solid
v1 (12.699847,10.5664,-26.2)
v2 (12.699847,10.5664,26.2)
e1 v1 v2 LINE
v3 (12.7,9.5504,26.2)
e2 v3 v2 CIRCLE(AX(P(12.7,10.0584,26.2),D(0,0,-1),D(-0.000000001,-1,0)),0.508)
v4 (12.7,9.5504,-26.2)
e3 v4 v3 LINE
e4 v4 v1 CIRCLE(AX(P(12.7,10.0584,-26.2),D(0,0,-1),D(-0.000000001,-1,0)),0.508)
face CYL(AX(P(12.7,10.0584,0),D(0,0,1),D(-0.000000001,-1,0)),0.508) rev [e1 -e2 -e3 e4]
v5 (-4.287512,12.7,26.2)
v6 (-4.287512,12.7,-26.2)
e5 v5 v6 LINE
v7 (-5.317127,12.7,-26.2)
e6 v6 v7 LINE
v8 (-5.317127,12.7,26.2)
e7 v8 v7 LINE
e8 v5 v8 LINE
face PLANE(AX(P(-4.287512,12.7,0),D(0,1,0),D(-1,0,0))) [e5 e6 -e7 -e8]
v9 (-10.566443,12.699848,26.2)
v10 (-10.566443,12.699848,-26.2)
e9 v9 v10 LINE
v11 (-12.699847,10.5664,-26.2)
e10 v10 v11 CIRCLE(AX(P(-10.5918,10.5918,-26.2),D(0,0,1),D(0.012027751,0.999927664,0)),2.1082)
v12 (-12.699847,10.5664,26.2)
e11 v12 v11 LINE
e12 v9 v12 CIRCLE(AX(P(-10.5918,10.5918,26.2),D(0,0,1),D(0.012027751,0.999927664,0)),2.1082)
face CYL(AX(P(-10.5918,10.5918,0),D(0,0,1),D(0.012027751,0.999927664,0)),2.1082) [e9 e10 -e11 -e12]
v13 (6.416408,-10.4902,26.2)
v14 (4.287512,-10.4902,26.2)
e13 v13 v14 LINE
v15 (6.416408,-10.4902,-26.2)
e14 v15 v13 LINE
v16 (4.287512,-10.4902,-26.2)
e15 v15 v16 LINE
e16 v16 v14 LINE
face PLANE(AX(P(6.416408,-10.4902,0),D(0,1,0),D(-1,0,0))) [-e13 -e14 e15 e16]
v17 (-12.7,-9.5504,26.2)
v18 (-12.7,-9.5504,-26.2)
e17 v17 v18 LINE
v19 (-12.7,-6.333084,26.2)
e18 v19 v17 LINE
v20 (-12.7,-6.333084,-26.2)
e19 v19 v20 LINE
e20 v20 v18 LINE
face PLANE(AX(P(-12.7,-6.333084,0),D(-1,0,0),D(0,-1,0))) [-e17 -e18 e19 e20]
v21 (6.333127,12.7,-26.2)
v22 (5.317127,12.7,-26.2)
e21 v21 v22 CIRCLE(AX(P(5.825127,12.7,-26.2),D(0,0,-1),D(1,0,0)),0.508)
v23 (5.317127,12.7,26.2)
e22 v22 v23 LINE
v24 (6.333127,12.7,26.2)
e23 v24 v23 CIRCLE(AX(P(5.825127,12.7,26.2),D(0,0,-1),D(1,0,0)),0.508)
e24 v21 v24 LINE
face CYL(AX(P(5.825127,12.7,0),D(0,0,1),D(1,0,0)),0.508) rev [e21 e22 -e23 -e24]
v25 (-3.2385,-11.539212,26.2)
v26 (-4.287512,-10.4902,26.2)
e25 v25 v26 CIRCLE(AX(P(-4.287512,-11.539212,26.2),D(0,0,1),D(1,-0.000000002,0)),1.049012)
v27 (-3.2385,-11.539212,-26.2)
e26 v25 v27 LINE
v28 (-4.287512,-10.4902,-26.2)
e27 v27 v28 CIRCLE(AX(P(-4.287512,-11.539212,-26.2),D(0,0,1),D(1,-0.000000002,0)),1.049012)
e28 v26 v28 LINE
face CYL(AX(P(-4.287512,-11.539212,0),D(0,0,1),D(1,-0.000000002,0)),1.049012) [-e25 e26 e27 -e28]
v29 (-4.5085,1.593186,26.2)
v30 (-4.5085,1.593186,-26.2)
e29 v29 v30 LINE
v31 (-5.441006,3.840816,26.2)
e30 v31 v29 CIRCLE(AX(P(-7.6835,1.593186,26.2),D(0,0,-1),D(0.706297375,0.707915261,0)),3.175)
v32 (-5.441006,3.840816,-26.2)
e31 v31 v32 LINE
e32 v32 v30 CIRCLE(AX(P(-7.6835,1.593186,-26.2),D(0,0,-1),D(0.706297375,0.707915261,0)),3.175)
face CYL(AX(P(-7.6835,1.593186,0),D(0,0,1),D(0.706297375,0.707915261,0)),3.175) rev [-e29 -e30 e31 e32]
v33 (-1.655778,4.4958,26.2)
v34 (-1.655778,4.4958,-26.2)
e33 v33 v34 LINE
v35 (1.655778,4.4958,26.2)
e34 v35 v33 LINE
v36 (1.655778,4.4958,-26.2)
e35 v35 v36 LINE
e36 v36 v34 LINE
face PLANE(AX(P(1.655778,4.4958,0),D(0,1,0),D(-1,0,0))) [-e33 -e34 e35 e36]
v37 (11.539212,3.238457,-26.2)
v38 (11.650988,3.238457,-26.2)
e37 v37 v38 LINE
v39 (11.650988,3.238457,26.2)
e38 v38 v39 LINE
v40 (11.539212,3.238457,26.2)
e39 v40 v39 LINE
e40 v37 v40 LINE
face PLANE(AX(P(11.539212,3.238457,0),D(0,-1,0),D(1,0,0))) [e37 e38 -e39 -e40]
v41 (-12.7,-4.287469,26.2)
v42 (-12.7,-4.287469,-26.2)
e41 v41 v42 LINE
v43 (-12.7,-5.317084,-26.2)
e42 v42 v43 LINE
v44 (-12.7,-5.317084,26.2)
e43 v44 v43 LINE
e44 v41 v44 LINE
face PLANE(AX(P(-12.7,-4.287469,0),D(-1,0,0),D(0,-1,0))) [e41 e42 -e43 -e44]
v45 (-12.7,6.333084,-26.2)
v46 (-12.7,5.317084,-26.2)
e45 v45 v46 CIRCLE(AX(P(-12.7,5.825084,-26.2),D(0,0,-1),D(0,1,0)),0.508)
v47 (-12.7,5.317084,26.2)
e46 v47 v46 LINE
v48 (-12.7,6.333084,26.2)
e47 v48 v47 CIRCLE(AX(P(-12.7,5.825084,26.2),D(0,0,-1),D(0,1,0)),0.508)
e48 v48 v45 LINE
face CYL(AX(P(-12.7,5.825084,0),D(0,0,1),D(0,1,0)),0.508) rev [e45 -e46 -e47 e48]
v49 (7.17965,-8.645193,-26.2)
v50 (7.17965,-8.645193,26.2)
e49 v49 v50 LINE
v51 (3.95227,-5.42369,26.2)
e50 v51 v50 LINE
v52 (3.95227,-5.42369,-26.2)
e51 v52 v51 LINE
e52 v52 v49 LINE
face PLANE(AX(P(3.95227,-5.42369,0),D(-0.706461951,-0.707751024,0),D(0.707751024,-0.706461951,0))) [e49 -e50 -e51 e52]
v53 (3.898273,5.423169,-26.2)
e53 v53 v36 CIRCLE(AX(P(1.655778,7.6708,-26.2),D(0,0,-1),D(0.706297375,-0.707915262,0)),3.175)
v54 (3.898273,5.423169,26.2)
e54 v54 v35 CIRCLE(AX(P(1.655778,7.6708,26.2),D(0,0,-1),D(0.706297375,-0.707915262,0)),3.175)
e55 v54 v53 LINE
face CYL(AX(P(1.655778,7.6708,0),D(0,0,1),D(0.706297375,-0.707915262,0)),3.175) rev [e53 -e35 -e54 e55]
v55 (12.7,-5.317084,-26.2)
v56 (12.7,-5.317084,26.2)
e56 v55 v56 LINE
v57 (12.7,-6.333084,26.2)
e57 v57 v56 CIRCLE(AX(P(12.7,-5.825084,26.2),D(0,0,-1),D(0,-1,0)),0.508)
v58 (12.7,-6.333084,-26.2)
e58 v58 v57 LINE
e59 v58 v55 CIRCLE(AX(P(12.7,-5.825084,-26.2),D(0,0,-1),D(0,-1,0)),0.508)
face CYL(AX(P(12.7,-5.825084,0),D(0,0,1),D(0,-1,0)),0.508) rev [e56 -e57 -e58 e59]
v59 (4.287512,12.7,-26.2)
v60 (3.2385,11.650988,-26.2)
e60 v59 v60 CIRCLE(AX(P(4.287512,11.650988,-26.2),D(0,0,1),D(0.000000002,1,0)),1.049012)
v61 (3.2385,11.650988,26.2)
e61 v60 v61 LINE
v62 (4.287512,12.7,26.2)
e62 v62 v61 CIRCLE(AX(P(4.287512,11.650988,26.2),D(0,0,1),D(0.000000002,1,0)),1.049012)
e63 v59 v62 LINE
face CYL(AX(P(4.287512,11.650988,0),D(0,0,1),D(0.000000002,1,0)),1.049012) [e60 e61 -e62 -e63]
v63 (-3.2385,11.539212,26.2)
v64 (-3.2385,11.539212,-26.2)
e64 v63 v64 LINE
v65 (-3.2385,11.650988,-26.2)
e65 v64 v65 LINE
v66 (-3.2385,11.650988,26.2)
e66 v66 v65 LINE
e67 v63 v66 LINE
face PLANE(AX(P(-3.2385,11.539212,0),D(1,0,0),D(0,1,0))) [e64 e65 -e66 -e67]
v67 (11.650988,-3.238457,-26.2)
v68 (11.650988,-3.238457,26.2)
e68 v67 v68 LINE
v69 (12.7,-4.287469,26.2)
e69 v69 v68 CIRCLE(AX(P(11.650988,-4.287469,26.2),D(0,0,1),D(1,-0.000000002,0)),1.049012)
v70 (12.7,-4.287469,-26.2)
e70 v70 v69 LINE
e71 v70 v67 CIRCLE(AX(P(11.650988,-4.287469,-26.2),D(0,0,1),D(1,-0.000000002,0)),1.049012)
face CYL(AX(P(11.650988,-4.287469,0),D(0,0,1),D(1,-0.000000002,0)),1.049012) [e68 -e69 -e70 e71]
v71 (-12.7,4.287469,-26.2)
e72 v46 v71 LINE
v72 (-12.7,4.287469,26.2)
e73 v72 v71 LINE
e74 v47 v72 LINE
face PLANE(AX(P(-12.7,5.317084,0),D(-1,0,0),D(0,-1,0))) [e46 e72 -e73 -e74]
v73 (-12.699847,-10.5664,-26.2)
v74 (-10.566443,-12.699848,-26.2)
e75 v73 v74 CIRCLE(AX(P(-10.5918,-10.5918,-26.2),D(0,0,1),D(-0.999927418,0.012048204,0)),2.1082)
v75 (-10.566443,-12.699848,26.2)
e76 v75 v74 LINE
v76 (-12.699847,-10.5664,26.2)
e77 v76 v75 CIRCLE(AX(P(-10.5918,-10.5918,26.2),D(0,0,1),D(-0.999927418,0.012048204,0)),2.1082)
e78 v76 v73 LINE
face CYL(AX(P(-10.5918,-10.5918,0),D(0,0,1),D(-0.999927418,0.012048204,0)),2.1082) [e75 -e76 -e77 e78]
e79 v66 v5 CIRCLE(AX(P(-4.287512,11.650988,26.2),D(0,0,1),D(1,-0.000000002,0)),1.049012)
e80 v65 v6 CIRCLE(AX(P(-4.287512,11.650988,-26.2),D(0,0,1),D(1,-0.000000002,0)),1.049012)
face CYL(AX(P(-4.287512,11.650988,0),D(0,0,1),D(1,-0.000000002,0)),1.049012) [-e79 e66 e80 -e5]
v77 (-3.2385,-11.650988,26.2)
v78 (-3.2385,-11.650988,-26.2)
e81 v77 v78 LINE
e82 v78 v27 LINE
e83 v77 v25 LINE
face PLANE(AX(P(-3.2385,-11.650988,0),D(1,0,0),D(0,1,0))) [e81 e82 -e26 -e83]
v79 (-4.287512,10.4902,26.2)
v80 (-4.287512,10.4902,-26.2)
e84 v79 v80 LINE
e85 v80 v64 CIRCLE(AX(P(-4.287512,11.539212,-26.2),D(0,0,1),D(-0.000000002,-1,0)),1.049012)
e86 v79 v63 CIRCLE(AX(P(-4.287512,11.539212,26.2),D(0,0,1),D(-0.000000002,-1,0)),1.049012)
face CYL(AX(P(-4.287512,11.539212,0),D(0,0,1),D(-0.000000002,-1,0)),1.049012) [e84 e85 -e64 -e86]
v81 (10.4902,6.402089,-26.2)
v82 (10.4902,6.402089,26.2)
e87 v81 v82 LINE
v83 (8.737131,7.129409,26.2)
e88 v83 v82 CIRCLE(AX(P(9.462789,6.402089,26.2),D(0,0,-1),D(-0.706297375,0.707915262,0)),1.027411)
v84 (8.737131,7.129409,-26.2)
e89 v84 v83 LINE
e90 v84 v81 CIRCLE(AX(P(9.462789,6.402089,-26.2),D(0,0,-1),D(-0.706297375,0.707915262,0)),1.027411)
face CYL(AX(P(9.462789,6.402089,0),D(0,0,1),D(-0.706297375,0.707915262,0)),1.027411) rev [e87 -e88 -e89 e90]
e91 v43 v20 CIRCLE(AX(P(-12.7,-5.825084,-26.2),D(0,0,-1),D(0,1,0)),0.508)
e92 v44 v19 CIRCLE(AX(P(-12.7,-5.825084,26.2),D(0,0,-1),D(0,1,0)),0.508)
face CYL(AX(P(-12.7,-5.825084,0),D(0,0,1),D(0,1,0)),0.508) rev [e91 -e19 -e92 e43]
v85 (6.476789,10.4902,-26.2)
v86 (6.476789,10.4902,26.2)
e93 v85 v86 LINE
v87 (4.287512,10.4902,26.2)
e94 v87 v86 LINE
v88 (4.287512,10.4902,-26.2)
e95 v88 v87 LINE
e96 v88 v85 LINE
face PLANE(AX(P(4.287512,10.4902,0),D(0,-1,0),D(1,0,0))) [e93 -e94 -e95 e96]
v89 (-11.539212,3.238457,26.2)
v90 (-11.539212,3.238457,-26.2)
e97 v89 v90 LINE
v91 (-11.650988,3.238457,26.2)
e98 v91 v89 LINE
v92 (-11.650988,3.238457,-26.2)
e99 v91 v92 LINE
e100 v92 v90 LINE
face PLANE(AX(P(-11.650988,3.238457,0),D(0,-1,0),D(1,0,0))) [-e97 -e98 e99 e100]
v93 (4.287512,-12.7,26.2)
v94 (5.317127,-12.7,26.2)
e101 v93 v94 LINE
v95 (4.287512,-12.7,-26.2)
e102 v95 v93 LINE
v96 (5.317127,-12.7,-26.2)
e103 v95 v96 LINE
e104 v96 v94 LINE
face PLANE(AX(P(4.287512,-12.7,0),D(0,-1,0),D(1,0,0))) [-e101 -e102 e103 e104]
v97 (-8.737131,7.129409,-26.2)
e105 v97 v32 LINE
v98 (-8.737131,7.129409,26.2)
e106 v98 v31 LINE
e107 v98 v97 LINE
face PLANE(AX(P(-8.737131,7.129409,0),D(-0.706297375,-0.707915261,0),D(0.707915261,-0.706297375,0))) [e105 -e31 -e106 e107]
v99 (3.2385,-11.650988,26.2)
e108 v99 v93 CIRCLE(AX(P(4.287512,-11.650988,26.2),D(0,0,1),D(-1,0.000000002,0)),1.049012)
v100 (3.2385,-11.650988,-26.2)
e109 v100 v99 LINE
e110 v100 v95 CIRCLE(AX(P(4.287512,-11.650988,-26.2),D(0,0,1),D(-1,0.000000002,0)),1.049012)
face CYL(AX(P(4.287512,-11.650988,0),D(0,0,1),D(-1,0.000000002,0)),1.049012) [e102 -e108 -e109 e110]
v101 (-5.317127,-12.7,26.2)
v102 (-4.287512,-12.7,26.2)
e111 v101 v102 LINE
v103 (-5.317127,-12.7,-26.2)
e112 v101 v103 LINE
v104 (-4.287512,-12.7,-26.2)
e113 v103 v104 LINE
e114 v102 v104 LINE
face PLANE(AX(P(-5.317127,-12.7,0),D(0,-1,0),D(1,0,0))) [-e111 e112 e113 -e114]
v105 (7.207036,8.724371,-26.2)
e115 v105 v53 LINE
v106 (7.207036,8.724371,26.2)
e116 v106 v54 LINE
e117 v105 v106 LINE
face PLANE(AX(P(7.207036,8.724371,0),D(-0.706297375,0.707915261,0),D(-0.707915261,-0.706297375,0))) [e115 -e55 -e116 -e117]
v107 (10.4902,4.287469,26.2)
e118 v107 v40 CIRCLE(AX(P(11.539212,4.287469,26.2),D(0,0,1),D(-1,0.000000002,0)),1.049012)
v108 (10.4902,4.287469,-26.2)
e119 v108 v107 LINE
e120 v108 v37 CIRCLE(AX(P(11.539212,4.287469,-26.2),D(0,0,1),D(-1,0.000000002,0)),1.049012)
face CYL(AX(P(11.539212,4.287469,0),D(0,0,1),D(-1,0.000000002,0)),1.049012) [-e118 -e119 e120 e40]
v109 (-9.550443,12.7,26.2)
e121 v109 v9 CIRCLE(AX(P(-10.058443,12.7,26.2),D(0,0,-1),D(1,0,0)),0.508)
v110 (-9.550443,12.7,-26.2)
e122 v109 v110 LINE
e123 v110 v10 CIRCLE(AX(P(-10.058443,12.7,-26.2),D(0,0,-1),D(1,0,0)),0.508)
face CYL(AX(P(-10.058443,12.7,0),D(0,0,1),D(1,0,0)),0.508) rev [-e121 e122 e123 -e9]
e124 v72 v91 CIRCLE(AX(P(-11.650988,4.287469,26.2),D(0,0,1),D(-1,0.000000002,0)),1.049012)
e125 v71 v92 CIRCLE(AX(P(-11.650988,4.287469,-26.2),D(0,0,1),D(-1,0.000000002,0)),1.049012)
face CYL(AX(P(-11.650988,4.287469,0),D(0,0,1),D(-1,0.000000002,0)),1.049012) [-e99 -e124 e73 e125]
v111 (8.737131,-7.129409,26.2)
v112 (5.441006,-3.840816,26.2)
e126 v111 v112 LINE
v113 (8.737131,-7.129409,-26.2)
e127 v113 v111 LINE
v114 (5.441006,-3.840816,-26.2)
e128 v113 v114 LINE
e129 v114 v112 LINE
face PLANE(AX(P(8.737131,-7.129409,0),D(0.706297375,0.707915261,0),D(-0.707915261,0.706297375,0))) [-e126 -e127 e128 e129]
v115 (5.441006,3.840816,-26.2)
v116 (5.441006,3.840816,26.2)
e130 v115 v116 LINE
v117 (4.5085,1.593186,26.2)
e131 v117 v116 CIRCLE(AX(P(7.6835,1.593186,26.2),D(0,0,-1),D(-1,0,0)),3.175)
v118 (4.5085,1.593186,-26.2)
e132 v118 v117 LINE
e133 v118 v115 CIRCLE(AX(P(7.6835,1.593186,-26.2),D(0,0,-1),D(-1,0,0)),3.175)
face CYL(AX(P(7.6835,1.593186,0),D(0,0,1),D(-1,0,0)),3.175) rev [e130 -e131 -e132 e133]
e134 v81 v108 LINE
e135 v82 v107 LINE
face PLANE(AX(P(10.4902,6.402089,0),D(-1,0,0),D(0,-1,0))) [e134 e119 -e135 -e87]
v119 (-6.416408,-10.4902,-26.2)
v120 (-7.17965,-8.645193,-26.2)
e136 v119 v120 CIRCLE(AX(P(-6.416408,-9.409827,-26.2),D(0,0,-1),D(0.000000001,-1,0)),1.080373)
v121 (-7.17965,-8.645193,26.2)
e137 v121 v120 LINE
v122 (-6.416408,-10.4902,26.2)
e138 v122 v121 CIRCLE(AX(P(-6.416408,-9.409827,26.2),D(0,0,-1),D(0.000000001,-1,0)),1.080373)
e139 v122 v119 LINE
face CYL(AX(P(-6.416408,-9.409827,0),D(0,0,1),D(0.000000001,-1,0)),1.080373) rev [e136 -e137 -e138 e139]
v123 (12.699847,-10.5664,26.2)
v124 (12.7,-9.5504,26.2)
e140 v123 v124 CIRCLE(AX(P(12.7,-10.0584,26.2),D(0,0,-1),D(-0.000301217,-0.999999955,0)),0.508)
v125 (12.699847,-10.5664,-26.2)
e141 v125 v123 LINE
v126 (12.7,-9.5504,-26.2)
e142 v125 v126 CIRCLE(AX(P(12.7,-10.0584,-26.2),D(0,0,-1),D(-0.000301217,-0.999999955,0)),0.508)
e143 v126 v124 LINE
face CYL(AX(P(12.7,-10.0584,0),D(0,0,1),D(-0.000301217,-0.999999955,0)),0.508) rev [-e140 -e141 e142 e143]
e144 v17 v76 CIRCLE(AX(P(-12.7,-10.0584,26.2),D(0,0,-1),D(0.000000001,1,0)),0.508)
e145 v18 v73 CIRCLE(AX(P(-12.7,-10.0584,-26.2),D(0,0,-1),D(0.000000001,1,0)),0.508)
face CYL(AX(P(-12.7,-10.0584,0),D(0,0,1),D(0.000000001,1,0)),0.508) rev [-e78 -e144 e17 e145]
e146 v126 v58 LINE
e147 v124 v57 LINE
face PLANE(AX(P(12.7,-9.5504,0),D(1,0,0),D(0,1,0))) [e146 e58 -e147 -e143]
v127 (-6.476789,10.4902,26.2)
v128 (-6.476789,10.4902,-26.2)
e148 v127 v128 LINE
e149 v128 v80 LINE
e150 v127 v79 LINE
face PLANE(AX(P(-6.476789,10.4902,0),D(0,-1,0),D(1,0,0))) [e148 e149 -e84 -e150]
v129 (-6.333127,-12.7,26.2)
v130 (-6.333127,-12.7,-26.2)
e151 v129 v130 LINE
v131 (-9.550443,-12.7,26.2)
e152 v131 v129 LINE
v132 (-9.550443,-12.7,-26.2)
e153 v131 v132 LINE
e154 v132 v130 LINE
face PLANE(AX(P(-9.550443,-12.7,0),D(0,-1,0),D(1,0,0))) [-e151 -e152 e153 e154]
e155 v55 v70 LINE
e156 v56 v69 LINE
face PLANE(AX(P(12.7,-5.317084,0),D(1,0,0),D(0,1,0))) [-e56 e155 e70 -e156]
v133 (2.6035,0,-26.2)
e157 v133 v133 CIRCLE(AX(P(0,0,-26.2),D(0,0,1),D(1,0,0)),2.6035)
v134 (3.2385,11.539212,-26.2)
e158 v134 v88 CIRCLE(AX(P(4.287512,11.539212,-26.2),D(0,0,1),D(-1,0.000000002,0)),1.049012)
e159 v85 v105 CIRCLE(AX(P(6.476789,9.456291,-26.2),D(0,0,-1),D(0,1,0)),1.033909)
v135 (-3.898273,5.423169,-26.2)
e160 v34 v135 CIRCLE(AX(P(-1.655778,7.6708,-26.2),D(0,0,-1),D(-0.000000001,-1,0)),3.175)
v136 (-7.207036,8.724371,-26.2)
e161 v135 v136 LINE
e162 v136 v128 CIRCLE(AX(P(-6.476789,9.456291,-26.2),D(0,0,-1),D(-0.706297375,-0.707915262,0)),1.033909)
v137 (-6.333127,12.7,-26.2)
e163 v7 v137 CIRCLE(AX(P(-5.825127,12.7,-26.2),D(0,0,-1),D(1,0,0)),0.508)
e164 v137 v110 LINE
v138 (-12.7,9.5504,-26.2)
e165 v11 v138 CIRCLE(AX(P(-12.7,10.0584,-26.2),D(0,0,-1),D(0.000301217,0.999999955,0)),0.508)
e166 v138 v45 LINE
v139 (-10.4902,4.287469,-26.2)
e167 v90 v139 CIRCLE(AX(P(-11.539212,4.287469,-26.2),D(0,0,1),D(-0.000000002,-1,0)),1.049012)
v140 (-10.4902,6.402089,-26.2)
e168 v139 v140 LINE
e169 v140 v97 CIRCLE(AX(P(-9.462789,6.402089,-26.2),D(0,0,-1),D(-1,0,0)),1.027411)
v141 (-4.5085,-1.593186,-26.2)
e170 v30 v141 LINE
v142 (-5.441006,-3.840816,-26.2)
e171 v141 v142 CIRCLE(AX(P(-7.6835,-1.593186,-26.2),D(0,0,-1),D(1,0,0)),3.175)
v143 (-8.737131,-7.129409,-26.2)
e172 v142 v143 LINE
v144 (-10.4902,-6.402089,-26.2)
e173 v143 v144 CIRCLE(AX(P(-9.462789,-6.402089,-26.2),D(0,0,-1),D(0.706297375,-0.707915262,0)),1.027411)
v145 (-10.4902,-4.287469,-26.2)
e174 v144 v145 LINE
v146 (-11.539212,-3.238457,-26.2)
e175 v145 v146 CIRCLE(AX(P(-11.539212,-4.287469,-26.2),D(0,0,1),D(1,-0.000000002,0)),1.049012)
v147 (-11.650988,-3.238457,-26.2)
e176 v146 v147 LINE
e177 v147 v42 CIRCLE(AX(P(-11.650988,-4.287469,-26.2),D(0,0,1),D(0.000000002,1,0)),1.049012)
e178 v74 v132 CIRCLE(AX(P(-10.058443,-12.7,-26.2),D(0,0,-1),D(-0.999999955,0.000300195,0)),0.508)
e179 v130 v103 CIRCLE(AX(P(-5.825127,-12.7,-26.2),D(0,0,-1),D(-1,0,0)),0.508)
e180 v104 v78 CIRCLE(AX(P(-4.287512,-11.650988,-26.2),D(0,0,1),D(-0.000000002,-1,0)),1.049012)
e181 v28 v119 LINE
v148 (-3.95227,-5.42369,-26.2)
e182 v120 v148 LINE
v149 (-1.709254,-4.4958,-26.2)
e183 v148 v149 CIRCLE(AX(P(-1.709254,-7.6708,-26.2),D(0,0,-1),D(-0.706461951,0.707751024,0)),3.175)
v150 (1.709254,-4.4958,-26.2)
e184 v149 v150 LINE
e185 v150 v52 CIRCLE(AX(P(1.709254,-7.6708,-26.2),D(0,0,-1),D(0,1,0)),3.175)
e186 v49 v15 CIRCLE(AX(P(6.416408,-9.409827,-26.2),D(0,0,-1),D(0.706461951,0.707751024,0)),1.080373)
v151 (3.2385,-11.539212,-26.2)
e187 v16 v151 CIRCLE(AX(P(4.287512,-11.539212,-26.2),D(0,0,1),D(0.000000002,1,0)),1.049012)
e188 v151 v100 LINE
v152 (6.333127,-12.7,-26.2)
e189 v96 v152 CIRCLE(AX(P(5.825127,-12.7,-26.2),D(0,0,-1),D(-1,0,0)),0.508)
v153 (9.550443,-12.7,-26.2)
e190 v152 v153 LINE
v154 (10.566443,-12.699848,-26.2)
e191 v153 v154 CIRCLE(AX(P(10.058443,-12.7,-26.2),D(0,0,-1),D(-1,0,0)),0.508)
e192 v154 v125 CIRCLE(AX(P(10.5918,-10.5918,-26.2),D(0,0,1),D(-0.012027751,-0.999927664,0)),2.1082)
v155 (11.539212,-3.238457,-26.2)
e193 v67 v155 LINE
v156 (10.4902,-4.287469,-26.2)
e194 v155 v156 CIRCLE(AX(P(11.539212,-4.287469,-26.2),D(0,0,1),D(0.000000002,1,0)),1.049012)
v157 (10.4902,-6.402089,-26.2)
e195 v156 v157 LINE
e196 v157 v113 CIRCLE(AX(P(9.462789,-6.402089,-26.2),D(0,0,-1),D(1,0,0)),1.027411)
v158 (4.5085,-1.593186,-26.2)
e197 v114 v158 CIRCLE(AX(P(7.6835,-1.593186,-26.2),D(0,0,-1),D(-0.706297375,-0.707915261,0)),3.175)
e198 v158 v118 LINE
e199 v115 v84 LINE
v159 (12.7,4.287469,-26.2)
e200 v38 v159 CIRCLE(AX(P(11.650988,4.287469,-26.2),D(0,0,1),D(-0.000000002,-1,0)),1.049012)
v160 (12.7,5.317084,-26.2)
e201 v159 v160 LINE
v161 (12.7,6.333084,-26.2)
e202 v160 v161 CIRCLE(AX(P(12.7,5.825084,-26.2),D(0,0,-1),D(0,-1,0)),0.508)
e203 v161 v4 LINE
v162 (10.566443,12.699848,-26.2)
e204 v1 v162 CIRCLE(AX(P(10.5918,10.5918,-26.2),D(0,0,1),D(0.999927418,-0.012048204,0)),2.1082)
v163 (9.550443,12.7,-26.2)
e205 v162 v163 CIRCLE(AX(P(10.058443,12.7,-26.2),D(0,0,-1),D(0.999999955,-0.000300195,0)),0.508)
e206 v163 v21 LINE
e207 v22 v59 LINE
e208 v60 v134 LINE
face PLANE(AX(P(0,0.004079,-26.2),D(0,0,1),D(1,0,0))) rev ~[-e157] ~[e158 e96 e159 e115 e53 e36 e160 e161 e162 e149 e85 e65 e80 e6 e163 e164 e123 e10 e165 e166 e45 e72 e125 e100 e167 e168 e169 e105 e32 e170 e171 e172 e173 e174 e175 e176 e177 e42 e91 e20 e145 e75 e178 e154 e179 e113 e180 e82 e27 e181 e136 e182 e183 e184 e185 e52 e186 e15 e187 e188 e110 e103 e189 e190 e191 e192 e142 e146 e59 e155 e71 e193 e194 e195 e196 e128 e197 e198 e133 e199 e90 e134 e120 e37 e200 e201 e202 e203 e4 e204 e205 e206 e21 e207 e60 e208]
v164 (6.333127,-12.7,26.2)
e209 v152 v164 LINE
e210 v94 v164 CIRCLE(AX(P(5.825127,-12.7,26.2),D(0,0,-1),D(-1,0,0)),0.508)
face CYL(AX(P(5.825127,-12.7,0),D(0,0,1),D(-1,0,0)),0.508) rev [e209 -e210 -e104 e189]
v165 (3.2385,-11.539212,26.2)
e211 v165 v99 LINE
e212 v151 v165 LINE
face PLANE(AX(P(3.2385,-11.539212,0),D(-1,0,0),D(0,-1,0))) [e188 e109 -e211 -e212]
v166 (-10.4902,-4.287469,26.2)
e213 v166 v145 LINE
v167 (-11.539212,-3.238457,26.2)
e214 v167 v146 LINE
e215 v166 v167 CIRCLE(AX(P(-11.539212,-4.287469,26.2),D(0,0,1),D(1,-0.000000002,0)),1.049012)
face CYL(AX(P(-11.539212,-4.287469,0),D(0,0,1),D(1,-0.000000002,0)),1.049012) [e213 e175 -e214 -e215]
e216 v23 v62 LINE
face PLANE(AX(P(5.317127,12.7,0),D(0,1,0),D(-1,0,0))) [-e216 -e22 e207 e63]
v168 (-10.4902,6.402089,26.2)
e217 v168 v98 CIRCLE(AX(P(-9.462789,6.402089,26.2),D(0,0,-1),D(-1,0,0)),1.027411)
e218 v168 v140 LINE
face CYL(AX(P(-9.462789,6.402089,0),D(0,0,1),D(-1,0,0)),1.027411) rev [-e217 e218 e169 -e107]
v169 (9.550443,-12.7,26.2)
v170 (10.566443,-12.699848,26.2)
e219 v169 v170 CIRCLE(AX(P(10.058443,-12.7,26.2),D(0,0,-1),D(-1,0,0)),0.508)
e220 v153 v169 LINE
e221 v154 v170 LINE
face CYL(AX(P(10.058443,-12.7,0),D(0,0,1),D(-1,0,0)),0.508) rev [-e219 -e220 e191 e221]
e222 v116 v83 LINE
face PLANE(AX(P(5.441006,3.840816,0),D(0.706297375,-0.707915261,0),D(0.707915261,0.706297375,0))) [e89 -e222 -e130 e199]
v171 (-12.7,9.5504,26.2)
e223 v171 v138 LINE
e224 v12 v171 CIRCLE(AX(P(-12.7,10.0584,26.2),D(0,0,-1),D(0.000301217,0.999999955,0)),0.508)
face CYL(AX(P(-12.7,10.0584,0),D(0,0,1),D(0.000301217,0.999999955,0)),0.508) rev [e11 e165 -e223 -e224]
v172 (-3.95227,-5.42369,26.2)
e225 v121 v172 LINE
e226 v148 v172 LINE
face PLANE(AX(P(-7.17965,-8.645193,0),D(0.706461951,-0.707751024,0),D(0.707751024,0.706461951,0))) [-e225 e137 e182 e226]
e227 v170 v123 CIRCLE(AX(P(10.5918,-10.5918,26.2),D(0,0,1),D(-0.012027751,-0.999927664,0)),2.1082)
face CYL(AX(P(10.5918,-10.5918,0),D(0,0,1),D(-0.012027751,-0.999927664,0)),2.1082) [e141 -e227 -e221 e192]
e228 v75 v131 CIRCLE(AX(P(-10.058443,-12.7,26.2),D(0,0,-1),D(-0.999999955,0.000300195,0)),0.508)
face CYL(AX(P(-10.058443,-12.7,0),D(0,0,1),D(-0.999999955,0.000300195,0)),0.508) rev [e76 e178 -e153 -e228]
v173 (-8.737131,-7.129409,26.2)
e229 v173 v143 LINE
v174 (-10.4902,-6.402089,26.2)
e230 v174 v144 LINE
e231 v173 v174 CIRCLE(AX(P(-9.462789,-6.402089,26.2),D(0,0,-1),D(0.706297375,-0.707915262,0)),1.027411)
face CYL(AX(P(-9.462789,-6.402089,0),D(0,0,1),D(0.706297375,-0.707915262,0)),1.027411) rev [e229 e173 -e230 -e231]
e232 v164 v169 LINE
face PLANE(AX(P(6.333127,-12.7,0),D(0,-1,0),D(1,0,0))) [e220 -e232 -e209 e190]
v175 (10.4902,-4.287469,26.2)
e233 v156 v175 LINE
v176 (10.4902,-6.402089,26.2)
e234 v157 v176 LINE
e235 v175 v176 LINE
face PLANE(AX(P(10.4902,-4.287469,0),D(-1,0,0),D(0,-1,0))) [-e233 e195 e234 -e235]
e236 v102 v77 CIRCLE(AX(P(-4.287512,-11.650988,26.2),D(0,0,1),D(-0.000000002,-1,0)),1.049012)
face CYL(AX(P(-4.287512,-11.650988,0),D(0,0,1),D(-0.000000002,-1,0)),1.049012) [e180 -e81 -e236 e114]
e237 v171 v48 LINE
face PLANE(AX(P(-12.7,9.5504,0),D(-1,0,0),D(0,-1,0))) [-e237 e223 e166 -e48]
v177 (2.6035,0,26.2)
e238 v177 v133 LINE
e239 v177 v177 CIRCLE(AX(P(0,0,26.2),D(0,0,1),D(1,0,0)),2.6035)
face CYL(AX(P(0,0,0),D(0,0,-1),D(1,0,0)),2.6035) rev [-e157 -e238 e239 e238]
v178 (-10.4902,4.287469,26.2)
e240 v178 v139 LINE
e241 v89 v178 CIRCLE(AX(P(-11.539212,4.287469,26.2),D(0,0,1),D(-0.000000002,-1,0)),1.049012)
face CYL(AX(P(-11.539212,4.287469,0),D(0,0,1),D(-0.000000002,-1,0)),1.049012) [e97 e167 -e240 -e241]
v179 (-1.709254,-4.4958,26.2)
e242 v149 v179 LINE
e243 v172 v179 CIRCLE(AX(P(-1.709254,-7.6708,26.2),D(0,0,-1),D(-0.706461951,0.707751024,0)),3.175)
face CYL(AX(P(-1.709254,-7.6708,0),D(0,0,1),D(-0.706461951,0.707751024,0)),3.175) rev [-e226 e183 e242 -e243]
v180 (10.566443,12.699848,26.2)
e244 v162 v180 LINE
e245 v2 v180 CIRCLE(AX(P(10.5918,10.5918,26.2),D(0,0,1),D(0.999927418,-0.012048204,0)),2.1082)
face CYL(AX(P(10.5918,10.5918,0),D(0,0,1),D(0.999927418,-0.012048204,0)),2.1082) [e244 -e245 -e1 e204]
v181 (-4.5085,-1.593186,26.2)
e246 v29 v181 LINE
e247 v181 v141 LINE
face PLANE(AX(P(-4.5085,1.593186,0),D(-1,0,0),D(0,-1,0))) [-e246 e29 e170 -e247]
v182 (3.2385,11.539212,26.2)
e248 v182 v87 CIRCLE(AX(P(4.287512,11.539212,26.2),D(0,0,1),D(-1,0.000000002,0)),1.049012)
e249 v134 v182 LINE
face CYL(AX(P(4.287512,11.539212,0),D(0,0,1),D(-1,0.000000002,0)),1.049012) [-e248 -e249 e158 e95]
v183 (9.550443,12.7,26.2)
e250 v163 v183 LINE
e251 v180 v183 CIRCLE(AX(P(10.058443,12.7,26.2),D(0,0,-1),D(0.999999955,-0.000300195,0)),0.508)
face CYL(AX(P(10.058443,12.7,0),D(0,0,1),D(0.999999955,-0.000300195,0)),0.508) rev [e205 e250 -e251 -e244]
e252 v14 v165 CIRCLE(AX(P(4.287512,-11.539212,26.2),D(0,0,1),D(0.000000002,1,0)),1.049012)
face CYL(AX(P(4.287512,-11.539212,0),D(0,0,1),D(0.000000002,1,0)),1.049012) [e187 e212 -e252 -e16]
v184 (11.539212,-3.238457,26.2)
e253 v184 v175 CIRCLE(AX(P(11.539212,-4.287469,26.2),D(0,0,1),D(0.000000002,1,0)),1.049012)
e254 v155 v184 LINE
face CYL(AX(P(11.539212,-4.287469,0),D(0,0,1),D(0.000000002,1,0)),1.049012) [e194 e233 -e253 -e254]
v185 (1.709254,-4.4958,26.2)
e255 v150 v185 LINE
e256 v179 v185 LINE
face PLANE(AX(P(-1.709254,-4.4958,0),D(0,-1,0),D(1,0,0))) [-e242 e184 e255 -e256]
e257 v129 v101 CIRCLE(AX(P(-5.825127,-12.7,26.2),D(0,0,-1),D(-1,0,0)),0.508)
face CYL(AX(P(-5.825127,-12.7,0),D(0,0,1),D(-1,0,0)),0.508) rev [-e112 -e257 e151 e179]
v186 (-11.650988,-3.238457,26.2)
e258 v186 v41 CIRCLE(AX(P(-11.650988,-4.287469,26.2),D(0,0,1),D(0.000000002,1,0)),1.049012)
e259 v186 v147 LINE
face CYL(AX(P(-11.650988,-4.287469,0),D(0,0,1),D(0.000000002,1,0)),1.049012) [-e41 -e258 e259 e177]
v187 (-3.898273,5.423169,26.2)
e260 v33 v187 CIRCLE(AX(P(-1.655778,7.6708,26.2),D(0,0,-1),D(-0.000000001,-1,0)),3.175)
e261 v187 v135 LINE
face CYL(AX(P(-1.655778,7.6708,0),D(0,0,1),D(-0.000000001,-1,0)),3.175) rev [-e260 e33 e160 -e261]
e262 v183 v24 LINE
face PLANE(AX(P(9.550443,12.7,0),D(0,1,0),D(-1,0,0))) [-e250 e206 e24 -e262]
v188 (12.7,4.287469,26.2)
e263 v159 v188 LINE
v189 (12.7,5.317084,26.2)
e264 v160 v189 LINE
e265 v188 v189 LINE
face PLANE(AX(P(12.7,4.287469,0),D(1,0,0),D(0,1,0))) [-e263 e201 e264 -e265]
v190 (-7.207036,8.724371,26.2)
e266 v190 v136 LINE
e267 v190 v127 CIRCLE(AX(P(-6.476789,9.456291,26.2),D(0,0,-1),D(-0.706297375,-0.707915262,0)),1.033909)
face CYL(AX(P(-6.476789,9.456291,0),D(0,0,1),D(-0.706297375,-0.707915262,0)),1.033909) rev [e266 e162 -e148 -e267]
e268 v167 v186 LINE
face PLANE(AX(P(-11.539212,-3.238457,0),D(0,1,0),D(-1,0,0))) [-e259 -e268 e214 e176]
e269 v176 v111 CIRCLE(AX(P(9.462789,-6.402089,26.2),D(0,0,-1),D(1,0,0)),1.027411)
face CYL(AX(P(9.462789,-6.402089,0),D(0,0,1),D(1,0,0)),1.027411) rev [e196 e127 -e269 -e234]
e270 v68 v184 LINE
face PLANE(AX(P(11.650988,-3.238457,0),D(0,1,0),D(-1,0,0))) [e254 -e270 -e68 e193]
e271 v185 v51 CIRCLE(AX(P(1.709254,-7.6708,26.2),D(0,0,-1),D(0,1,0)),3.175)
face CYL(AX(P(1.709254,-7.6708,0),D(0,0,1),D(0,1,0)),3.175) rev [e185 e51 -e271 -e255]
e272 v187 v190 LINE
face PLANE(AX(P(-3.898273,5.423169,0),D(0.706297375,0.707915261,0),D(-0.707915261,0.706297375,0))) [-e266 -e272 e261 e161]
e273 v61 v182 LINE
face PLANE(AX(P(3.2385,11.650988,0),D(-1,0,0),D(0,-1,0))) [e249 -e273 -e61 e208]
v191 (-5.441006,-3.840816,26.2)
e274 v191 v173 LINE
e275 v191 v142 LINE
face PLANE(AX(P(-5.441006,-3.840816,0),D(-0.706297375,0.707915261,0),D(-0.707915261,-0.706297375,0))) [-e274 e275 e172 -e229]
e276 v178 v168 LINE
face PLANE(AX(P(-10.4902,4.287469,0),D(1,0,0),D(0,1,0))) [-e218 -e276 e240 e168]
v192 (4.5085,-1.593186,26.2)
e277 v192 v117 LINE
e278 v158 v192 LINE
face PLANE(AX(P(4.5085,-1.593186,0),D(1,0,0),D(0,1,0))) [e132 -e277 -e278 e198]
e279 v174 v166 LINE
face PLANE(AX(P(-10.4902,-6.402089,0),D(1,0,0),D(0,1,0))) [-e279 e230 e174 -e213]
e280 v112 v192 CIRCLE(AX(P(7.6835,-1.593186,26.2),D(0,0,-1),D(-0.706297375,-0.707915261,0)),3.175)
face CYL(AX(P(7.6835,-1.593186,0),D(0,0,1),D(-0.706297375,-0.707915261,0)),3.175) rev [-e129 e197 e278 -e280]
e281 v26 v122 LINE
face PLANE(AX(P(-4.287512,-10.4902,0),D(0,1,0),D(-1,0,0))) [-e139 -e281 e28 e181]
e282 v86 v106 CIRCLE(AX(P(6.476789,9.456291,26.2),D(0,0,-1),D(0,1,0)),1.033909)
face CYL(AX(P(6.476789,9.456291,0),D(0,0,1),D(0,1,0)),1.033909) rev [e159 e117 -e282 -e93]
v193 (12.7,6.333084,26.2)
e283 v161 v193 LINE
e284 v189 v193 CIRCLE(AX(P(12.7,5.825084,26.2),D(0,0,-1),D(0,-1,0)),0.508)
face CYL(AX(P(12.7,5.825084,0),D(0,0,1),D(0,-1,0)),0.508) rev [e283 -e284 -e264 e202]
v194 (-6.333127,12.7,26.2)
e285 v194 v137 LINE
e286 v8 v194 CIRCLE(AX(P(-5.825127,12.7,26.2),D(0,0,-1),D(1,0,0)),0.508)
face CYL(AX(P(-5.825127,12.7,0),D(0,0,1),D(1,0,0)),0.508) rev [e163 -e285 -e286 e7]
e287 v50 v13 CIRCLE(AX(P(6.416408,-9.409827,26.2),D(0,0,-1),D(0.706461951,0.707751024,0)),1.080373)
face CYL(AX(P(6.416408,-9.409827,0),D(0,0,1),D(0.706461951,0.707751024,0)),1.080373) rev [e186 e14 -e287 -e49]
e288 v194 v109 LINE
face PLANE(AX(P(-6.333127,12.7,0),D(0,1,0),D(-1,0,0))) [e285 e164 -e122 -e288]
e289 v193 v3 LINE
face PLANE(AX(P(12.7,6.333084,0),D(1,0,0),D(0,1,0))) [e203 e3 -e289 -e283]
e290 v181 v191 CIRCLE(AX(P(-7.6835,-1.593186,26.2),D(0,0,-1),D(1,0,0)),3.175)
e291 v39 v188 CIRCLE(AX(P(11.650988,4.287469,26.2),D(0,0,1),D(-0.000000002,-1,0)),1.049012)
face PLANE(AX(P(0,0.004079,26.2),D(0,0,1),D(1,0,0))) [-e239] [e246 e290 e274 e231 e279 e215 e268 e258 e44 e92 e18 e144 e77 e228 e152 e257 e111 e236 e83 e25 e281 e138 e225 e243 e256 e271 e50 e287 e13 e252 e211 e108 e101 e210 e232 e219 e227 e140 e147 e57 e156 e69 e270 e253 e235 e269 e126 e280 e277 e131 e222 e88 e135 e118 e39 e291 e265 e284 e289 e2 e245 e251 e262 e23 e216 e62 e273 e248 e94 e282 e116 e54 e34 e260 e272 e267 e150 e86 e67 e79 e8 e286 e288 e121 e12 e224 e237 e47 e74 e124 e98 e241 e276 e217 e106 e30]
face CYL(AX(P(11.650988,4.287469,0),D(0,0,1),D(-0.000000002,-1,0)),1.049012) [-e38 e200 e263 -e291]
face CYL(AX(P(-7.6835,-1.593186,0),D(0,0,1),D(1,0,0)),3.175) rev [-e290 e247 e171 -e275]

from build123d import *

# Parameters (mm, degrees)
SKETCH1_R           = 2.6035
BOSS_EXTRUDE1_DEPTH = 26.2


with BuildPart() as part:
    # Sketch1 → Boss-Extrude1 (new, symmetric)
    with BuildSketch(Plane.XY):
        with BuildLine():
            Line((-7.179650497, -8.645192506), (-3.952270251, -5.423690499))
            ThreePointArc((-3.952270251, -5.423690499), (-2.922936451, -4.736929036), (-1.709253557, -4.4958))
            Line((-1.709253557, -4.4958), (1.709253557, -4.4958))
            ThreePointArc((1.709253557, -4.4958), (2.922936451, -4.736929036), (3.952270251, -5.423690499))
            Line((3.952270251, -5.423690499), (7.179650497, -8.645192506))
            ThreePointArc((7.179650497, -8.645192506), (7.41473083, -9.822813117), (6.416408329, -10.4902))
            Line((6.416408329, -10.4902), (4.287512407, -10.4902))
            ThreePointArc((4.287512407, -10.4902), (3.54574862, -10.79744862), (3.2385, -11.539212407))
            Line((3.2385, -11.539212407), (3.2385, -11.650987593))
            ThreePointArc((3.2385, -11.650987593), (3.54574862, -12.39275138), (4.287512407, -12.7))
            Line((4.287512407, -12.7), (5.317126718, -12.7))
            ThreePointArc((5.317126718, -12.7), (5.825126718, -12.192), (6.333126718, -12.7))
            Line((6.333126718, -12.7), (9.550443118, -12.7))
            ThreePointArc((9.550443118, -12.7), (10.058366869, -12.192000006), (10.566443095, -12.699847501))
            ThreePointArc((10.566443095, -12.699847501), (12.082537762, -12.08250727), (12.699846982, -10.566399977))
            ThreePointArc((12.699846982, -10.566399977), (12.192000006, -10.058323491), (12.7, -9.5504))
            Line((12.7, -9.5504), (12.7, -6.3330836))
            ThreePointArc((12.7, -6.3330836), (12.192, -5.8250836), (12.7, -5.3170836))
            Line((12.7, -5.3170836), (12.7, -4.287469289))
            ThreePointArc((12.7, -4.287469289), (12.39275138, -3.545705502), (11.650987593, -3.238456882))
            Line((11.650987593, -3.238456882), (11.539212407, -3.238456882))
            ThreePointArc((11.539212407, -3.238456882), (10.79744862, -3.545705502), (10.4902, -4.287469289))
            Line((10.4902, -4.287469289), (10.4902, -6.402089023))
            ThreePointArc((10.4902, -6.402089023), (9.856505071, -7.351067942), (8.737131347, -7.129408934))
            Line((8.737131347, -7.129408934), (5.441005833, -3.840816462))
            ThreePointArc((5.441005833, -3.840816462), (4.750877967, -2.809883091), (4.5085, -1.593185507))
            Line((4.5085, -1.593185507), (4.5085, 1.593185507))
            ThreePointArc((4.5085, 1.593185507), (4.750877967, 2.809883091), (5.441005833, 3.840816462))
            Line((5.441005833, 3.840816462), (8.737131347, 7.129408934))
            ThreePointArc((8.737131347, 7.129408934), (9.856505071, 7.351067942), (10.4902, 6.402089023))
            Line((10.4902, 6.402089023), (10.4902, 4.287469289))
            ThreePointArc((10.4902, 4.287469289), (10.79744862, 3.545705502), (11.539212407, 3.238456882))
            Line((11.539212407, 3.238456882), (11.650987593, 3.238456882))
            ThreePointArc((11.650987593, 3.238456882), (12.39275138, 3.545705502), (12.7, 4.287469289))
            Line((12.7, 4.287469289), (12.7, 5.3170836))
            ThreePointArc((12.7, 5.3170836), (12.192, 5.8250836), (12.7, 6.3330836))
            Line((12.7, 6.3330836), (12.7, 9.5504))
            ThreePointArc((12.7, 9.5504), (12.192000006, 10.058323491), (12.699846982, 10.566399977))
            ThreePointArc((12.699846982, 10.566399977), (12.082537762, 12.08250727), (10.566443095, 12.699847501))
            ThreePointArc((10.566443095, 12.699847501), (10.058366869, 12.192000006), (9.550443118, 12.7))
            Line((9.550443118, 12.7), (6.333126718, 12.7))
            ThreePointArc((6.333126718, 12.7), (5.825126718, 12.192), (5.317126718, 12.7))
            Line((5.317126718, 12.7), (4.287512407, 12.7))
            ThreePointArc((4.287512407, 12.7), (3.54574862, 12.39275138), (3.2385, 11.650987593))
            Line((3.2385, 11.650987593), (3.2385, 11.539212407))
            ThreePointArc((3.2385, 11.539212407), (3.54574862, 10.79744862), (4.287512407, 10.4902))
            Line((4.287512407, 10.4902), (6.476788598, 10.4902))
            ThreePointArc((6.476788598, 10.4902), (7.432222385, 9.85140422), (7.207036008, 8.724370562))
            Line((7.207036008, 8.724370562), (3.898272566, 5.423169045))
            ThreePointArc((3.898272566, 5.423169045), (2.869120213, 4.736787962), (1.655778399, 4.4958))
            Line((1.655778399, 4.4958), (-1.655778399, 4.4958))
            ThreePointArc((-1.655778399, 4.4958), (-2.869120213, 4.736787962), (-3.898272566, 5.423169045))
            Line((-3.898272566, 5.423169045), (-7.207036008, 8.724370562))
            ThreePointArc((-7.207036008, 8.724370562), (-7.432222385, 9.85140422), (-6.476788598, 10.4902))
            Line((-6.476788598, 10.4902), (-4.287512407, 10.4902))
            ThreePointArc((-4.287512407, 10.4902), (-3.54574862, 10.79744862), (-3.2385, 11.539212407))
            Line((-3.2385, 11.539212407), (-3.2385, 11.650987593))
            ThreePointArc((-3.2385, 11.650987593), (-3.54574862, 12.39275138), (-4.287512407, 12.7))
            Line((-4.287512407, 12.7), (-5.317126718, 12.7))
            ThreePointArc((-5.317126718, 12.7), (-5.825126718, 12.192), (-6.333126718, 12.7))
            Line((-6.333126718, 12.7), (-9.550443118, 12.7))
            ThreePointArc((-9.550443118, 12.7), (-10.058366869, 12.192000006), (-10.566443095, 12.699847501))
            ThreePointArc((-10.566443095, 12.699847501), (-12.082537762, 12.08250727), (-12.699846982, 10.566399977))
            ThreePointArc((-12.699846982, 10.566399977), (-12.192000006, 10.058323491), (-12.7, 9.5504))
            Line((-12.7, 9.5504), (-12.7, 6.3330836))
            ThreePointArc((-12.7, 6.3330836), (-12.192, 5.8250836), (-12.7, 5.3170836))
            Line((-12.7, 5.3170836), (-12.7, 4.287469289))
            ThreePointArc((-12.7, 4.287469289), (-12.39275138, 3.545705502), (-11.650987593, 3.238456882))
            Line((-11.650987593, 3.238456882), (-11.539212407, 3.238456882))
            ThreePointArc((-11.539212407, 3.238456882), (-10.79744862, 3.545705502), (-10.4902, 4.287469289))
            Line((-10.4902, 4.287469289), (-10.4902, 6.402089023))
            ThreePointArc((-10.4902, 6.402089023), (-9.856505071, 7.351067942), (-8.737131347, 7.129408934))
            Line((-8.737131347, 7.129408934), (-5.441005833, 3.840816462))
            ThreePointArc((-5.441005833, 3.840816462), (-4.750877967, 2.809883091), (-4.5085, 1.593185507))
            Line((-4.5085, 1.593185507), (-4.5085, -1.593185507))
            ThreePointArc((-4.5085, -1.593185507), (-4.750877967, -2.809883091), (-5.441005833, -3.840816462))
            Line((-5.441005833, -3.840816462), (-8.737131347, -7.129408934))
            ThreePointArc((-8.737131347, -7.129408934), (-9.856505071, -7.351067942), (-10.4902, -6.402089023))
            Line((-10.4902, -6.402089023), (-10.4902, -4.287469289))
            ThreePointArc((-10.4902, -4.287469289), (-10.79744862, -3.545705502), (-11.539212407, -3.238456882))
            Line((-11.539212407, -3.238456882), (-11.650987593, -3.238456882))
            ThreePointArc((-11.650987593, -3.238456882), (-12.39275138, -3.545705502), (-12.7, -4.287469289))
            Line((-12.7, -4.287469289), (-12.7, -5.3170836))
            ThreePointArc((-12.7, -5.3170836), (-12.192, -5.8250836), (-12.7, -6.3330836))
            Line((-12.7, -6.3330836), (-12.7, -9.5504))
            ThreePointArc((-12.7, -9.5504), (-12.192000006, -10.058323491), (-12.699846982, -10.566399977))
            ThreePointArc((-12.699846982, -10.566399977), (-12.082537762, -12.08250727), (-10.566443095, -12.699847501))
            ThreePointArc((-10.566443095, -12.699847501), (-10.058366869, -12.192000006), (-9.550443118, -12.7))
            Line((-9.550443118, -12.7), (-6.333126718, -12.7))
            ThreePointArc((-6.333126718, -12.7), (-5.825126718, -12.192), (-5.317126718, -12.7))
            Line((-5.317126718, -12.7), (-4.287512407, -12.7))
            ThreePointArc((-4.287512407, -12.7), (-3.54574862, -12.39275138), (-3.2385, -11.650987593))
            Line((-3.2385, -11.650987593), (-3.2385, -11.539212407))
            ThreePointArc((-3.2385, -11.539212407), (-3.54574862, -10.79744862), (-4.287512407, -10.4902))
            Line((-4.287512407, -10.4902), (-6.416408329, -10.4902))
            ThreePointArc((-6.416408329, -10.4902), (-7.41473083, -9.822813117), (-7.179650497, -8.645192506))
        make_face()
        Circle(SKETCH1_R, mode=Mode.SUBTRACT)
    extrude(amount=BOSS_EXTRUDE1_DEPTH, both=True)


solid = part.part
